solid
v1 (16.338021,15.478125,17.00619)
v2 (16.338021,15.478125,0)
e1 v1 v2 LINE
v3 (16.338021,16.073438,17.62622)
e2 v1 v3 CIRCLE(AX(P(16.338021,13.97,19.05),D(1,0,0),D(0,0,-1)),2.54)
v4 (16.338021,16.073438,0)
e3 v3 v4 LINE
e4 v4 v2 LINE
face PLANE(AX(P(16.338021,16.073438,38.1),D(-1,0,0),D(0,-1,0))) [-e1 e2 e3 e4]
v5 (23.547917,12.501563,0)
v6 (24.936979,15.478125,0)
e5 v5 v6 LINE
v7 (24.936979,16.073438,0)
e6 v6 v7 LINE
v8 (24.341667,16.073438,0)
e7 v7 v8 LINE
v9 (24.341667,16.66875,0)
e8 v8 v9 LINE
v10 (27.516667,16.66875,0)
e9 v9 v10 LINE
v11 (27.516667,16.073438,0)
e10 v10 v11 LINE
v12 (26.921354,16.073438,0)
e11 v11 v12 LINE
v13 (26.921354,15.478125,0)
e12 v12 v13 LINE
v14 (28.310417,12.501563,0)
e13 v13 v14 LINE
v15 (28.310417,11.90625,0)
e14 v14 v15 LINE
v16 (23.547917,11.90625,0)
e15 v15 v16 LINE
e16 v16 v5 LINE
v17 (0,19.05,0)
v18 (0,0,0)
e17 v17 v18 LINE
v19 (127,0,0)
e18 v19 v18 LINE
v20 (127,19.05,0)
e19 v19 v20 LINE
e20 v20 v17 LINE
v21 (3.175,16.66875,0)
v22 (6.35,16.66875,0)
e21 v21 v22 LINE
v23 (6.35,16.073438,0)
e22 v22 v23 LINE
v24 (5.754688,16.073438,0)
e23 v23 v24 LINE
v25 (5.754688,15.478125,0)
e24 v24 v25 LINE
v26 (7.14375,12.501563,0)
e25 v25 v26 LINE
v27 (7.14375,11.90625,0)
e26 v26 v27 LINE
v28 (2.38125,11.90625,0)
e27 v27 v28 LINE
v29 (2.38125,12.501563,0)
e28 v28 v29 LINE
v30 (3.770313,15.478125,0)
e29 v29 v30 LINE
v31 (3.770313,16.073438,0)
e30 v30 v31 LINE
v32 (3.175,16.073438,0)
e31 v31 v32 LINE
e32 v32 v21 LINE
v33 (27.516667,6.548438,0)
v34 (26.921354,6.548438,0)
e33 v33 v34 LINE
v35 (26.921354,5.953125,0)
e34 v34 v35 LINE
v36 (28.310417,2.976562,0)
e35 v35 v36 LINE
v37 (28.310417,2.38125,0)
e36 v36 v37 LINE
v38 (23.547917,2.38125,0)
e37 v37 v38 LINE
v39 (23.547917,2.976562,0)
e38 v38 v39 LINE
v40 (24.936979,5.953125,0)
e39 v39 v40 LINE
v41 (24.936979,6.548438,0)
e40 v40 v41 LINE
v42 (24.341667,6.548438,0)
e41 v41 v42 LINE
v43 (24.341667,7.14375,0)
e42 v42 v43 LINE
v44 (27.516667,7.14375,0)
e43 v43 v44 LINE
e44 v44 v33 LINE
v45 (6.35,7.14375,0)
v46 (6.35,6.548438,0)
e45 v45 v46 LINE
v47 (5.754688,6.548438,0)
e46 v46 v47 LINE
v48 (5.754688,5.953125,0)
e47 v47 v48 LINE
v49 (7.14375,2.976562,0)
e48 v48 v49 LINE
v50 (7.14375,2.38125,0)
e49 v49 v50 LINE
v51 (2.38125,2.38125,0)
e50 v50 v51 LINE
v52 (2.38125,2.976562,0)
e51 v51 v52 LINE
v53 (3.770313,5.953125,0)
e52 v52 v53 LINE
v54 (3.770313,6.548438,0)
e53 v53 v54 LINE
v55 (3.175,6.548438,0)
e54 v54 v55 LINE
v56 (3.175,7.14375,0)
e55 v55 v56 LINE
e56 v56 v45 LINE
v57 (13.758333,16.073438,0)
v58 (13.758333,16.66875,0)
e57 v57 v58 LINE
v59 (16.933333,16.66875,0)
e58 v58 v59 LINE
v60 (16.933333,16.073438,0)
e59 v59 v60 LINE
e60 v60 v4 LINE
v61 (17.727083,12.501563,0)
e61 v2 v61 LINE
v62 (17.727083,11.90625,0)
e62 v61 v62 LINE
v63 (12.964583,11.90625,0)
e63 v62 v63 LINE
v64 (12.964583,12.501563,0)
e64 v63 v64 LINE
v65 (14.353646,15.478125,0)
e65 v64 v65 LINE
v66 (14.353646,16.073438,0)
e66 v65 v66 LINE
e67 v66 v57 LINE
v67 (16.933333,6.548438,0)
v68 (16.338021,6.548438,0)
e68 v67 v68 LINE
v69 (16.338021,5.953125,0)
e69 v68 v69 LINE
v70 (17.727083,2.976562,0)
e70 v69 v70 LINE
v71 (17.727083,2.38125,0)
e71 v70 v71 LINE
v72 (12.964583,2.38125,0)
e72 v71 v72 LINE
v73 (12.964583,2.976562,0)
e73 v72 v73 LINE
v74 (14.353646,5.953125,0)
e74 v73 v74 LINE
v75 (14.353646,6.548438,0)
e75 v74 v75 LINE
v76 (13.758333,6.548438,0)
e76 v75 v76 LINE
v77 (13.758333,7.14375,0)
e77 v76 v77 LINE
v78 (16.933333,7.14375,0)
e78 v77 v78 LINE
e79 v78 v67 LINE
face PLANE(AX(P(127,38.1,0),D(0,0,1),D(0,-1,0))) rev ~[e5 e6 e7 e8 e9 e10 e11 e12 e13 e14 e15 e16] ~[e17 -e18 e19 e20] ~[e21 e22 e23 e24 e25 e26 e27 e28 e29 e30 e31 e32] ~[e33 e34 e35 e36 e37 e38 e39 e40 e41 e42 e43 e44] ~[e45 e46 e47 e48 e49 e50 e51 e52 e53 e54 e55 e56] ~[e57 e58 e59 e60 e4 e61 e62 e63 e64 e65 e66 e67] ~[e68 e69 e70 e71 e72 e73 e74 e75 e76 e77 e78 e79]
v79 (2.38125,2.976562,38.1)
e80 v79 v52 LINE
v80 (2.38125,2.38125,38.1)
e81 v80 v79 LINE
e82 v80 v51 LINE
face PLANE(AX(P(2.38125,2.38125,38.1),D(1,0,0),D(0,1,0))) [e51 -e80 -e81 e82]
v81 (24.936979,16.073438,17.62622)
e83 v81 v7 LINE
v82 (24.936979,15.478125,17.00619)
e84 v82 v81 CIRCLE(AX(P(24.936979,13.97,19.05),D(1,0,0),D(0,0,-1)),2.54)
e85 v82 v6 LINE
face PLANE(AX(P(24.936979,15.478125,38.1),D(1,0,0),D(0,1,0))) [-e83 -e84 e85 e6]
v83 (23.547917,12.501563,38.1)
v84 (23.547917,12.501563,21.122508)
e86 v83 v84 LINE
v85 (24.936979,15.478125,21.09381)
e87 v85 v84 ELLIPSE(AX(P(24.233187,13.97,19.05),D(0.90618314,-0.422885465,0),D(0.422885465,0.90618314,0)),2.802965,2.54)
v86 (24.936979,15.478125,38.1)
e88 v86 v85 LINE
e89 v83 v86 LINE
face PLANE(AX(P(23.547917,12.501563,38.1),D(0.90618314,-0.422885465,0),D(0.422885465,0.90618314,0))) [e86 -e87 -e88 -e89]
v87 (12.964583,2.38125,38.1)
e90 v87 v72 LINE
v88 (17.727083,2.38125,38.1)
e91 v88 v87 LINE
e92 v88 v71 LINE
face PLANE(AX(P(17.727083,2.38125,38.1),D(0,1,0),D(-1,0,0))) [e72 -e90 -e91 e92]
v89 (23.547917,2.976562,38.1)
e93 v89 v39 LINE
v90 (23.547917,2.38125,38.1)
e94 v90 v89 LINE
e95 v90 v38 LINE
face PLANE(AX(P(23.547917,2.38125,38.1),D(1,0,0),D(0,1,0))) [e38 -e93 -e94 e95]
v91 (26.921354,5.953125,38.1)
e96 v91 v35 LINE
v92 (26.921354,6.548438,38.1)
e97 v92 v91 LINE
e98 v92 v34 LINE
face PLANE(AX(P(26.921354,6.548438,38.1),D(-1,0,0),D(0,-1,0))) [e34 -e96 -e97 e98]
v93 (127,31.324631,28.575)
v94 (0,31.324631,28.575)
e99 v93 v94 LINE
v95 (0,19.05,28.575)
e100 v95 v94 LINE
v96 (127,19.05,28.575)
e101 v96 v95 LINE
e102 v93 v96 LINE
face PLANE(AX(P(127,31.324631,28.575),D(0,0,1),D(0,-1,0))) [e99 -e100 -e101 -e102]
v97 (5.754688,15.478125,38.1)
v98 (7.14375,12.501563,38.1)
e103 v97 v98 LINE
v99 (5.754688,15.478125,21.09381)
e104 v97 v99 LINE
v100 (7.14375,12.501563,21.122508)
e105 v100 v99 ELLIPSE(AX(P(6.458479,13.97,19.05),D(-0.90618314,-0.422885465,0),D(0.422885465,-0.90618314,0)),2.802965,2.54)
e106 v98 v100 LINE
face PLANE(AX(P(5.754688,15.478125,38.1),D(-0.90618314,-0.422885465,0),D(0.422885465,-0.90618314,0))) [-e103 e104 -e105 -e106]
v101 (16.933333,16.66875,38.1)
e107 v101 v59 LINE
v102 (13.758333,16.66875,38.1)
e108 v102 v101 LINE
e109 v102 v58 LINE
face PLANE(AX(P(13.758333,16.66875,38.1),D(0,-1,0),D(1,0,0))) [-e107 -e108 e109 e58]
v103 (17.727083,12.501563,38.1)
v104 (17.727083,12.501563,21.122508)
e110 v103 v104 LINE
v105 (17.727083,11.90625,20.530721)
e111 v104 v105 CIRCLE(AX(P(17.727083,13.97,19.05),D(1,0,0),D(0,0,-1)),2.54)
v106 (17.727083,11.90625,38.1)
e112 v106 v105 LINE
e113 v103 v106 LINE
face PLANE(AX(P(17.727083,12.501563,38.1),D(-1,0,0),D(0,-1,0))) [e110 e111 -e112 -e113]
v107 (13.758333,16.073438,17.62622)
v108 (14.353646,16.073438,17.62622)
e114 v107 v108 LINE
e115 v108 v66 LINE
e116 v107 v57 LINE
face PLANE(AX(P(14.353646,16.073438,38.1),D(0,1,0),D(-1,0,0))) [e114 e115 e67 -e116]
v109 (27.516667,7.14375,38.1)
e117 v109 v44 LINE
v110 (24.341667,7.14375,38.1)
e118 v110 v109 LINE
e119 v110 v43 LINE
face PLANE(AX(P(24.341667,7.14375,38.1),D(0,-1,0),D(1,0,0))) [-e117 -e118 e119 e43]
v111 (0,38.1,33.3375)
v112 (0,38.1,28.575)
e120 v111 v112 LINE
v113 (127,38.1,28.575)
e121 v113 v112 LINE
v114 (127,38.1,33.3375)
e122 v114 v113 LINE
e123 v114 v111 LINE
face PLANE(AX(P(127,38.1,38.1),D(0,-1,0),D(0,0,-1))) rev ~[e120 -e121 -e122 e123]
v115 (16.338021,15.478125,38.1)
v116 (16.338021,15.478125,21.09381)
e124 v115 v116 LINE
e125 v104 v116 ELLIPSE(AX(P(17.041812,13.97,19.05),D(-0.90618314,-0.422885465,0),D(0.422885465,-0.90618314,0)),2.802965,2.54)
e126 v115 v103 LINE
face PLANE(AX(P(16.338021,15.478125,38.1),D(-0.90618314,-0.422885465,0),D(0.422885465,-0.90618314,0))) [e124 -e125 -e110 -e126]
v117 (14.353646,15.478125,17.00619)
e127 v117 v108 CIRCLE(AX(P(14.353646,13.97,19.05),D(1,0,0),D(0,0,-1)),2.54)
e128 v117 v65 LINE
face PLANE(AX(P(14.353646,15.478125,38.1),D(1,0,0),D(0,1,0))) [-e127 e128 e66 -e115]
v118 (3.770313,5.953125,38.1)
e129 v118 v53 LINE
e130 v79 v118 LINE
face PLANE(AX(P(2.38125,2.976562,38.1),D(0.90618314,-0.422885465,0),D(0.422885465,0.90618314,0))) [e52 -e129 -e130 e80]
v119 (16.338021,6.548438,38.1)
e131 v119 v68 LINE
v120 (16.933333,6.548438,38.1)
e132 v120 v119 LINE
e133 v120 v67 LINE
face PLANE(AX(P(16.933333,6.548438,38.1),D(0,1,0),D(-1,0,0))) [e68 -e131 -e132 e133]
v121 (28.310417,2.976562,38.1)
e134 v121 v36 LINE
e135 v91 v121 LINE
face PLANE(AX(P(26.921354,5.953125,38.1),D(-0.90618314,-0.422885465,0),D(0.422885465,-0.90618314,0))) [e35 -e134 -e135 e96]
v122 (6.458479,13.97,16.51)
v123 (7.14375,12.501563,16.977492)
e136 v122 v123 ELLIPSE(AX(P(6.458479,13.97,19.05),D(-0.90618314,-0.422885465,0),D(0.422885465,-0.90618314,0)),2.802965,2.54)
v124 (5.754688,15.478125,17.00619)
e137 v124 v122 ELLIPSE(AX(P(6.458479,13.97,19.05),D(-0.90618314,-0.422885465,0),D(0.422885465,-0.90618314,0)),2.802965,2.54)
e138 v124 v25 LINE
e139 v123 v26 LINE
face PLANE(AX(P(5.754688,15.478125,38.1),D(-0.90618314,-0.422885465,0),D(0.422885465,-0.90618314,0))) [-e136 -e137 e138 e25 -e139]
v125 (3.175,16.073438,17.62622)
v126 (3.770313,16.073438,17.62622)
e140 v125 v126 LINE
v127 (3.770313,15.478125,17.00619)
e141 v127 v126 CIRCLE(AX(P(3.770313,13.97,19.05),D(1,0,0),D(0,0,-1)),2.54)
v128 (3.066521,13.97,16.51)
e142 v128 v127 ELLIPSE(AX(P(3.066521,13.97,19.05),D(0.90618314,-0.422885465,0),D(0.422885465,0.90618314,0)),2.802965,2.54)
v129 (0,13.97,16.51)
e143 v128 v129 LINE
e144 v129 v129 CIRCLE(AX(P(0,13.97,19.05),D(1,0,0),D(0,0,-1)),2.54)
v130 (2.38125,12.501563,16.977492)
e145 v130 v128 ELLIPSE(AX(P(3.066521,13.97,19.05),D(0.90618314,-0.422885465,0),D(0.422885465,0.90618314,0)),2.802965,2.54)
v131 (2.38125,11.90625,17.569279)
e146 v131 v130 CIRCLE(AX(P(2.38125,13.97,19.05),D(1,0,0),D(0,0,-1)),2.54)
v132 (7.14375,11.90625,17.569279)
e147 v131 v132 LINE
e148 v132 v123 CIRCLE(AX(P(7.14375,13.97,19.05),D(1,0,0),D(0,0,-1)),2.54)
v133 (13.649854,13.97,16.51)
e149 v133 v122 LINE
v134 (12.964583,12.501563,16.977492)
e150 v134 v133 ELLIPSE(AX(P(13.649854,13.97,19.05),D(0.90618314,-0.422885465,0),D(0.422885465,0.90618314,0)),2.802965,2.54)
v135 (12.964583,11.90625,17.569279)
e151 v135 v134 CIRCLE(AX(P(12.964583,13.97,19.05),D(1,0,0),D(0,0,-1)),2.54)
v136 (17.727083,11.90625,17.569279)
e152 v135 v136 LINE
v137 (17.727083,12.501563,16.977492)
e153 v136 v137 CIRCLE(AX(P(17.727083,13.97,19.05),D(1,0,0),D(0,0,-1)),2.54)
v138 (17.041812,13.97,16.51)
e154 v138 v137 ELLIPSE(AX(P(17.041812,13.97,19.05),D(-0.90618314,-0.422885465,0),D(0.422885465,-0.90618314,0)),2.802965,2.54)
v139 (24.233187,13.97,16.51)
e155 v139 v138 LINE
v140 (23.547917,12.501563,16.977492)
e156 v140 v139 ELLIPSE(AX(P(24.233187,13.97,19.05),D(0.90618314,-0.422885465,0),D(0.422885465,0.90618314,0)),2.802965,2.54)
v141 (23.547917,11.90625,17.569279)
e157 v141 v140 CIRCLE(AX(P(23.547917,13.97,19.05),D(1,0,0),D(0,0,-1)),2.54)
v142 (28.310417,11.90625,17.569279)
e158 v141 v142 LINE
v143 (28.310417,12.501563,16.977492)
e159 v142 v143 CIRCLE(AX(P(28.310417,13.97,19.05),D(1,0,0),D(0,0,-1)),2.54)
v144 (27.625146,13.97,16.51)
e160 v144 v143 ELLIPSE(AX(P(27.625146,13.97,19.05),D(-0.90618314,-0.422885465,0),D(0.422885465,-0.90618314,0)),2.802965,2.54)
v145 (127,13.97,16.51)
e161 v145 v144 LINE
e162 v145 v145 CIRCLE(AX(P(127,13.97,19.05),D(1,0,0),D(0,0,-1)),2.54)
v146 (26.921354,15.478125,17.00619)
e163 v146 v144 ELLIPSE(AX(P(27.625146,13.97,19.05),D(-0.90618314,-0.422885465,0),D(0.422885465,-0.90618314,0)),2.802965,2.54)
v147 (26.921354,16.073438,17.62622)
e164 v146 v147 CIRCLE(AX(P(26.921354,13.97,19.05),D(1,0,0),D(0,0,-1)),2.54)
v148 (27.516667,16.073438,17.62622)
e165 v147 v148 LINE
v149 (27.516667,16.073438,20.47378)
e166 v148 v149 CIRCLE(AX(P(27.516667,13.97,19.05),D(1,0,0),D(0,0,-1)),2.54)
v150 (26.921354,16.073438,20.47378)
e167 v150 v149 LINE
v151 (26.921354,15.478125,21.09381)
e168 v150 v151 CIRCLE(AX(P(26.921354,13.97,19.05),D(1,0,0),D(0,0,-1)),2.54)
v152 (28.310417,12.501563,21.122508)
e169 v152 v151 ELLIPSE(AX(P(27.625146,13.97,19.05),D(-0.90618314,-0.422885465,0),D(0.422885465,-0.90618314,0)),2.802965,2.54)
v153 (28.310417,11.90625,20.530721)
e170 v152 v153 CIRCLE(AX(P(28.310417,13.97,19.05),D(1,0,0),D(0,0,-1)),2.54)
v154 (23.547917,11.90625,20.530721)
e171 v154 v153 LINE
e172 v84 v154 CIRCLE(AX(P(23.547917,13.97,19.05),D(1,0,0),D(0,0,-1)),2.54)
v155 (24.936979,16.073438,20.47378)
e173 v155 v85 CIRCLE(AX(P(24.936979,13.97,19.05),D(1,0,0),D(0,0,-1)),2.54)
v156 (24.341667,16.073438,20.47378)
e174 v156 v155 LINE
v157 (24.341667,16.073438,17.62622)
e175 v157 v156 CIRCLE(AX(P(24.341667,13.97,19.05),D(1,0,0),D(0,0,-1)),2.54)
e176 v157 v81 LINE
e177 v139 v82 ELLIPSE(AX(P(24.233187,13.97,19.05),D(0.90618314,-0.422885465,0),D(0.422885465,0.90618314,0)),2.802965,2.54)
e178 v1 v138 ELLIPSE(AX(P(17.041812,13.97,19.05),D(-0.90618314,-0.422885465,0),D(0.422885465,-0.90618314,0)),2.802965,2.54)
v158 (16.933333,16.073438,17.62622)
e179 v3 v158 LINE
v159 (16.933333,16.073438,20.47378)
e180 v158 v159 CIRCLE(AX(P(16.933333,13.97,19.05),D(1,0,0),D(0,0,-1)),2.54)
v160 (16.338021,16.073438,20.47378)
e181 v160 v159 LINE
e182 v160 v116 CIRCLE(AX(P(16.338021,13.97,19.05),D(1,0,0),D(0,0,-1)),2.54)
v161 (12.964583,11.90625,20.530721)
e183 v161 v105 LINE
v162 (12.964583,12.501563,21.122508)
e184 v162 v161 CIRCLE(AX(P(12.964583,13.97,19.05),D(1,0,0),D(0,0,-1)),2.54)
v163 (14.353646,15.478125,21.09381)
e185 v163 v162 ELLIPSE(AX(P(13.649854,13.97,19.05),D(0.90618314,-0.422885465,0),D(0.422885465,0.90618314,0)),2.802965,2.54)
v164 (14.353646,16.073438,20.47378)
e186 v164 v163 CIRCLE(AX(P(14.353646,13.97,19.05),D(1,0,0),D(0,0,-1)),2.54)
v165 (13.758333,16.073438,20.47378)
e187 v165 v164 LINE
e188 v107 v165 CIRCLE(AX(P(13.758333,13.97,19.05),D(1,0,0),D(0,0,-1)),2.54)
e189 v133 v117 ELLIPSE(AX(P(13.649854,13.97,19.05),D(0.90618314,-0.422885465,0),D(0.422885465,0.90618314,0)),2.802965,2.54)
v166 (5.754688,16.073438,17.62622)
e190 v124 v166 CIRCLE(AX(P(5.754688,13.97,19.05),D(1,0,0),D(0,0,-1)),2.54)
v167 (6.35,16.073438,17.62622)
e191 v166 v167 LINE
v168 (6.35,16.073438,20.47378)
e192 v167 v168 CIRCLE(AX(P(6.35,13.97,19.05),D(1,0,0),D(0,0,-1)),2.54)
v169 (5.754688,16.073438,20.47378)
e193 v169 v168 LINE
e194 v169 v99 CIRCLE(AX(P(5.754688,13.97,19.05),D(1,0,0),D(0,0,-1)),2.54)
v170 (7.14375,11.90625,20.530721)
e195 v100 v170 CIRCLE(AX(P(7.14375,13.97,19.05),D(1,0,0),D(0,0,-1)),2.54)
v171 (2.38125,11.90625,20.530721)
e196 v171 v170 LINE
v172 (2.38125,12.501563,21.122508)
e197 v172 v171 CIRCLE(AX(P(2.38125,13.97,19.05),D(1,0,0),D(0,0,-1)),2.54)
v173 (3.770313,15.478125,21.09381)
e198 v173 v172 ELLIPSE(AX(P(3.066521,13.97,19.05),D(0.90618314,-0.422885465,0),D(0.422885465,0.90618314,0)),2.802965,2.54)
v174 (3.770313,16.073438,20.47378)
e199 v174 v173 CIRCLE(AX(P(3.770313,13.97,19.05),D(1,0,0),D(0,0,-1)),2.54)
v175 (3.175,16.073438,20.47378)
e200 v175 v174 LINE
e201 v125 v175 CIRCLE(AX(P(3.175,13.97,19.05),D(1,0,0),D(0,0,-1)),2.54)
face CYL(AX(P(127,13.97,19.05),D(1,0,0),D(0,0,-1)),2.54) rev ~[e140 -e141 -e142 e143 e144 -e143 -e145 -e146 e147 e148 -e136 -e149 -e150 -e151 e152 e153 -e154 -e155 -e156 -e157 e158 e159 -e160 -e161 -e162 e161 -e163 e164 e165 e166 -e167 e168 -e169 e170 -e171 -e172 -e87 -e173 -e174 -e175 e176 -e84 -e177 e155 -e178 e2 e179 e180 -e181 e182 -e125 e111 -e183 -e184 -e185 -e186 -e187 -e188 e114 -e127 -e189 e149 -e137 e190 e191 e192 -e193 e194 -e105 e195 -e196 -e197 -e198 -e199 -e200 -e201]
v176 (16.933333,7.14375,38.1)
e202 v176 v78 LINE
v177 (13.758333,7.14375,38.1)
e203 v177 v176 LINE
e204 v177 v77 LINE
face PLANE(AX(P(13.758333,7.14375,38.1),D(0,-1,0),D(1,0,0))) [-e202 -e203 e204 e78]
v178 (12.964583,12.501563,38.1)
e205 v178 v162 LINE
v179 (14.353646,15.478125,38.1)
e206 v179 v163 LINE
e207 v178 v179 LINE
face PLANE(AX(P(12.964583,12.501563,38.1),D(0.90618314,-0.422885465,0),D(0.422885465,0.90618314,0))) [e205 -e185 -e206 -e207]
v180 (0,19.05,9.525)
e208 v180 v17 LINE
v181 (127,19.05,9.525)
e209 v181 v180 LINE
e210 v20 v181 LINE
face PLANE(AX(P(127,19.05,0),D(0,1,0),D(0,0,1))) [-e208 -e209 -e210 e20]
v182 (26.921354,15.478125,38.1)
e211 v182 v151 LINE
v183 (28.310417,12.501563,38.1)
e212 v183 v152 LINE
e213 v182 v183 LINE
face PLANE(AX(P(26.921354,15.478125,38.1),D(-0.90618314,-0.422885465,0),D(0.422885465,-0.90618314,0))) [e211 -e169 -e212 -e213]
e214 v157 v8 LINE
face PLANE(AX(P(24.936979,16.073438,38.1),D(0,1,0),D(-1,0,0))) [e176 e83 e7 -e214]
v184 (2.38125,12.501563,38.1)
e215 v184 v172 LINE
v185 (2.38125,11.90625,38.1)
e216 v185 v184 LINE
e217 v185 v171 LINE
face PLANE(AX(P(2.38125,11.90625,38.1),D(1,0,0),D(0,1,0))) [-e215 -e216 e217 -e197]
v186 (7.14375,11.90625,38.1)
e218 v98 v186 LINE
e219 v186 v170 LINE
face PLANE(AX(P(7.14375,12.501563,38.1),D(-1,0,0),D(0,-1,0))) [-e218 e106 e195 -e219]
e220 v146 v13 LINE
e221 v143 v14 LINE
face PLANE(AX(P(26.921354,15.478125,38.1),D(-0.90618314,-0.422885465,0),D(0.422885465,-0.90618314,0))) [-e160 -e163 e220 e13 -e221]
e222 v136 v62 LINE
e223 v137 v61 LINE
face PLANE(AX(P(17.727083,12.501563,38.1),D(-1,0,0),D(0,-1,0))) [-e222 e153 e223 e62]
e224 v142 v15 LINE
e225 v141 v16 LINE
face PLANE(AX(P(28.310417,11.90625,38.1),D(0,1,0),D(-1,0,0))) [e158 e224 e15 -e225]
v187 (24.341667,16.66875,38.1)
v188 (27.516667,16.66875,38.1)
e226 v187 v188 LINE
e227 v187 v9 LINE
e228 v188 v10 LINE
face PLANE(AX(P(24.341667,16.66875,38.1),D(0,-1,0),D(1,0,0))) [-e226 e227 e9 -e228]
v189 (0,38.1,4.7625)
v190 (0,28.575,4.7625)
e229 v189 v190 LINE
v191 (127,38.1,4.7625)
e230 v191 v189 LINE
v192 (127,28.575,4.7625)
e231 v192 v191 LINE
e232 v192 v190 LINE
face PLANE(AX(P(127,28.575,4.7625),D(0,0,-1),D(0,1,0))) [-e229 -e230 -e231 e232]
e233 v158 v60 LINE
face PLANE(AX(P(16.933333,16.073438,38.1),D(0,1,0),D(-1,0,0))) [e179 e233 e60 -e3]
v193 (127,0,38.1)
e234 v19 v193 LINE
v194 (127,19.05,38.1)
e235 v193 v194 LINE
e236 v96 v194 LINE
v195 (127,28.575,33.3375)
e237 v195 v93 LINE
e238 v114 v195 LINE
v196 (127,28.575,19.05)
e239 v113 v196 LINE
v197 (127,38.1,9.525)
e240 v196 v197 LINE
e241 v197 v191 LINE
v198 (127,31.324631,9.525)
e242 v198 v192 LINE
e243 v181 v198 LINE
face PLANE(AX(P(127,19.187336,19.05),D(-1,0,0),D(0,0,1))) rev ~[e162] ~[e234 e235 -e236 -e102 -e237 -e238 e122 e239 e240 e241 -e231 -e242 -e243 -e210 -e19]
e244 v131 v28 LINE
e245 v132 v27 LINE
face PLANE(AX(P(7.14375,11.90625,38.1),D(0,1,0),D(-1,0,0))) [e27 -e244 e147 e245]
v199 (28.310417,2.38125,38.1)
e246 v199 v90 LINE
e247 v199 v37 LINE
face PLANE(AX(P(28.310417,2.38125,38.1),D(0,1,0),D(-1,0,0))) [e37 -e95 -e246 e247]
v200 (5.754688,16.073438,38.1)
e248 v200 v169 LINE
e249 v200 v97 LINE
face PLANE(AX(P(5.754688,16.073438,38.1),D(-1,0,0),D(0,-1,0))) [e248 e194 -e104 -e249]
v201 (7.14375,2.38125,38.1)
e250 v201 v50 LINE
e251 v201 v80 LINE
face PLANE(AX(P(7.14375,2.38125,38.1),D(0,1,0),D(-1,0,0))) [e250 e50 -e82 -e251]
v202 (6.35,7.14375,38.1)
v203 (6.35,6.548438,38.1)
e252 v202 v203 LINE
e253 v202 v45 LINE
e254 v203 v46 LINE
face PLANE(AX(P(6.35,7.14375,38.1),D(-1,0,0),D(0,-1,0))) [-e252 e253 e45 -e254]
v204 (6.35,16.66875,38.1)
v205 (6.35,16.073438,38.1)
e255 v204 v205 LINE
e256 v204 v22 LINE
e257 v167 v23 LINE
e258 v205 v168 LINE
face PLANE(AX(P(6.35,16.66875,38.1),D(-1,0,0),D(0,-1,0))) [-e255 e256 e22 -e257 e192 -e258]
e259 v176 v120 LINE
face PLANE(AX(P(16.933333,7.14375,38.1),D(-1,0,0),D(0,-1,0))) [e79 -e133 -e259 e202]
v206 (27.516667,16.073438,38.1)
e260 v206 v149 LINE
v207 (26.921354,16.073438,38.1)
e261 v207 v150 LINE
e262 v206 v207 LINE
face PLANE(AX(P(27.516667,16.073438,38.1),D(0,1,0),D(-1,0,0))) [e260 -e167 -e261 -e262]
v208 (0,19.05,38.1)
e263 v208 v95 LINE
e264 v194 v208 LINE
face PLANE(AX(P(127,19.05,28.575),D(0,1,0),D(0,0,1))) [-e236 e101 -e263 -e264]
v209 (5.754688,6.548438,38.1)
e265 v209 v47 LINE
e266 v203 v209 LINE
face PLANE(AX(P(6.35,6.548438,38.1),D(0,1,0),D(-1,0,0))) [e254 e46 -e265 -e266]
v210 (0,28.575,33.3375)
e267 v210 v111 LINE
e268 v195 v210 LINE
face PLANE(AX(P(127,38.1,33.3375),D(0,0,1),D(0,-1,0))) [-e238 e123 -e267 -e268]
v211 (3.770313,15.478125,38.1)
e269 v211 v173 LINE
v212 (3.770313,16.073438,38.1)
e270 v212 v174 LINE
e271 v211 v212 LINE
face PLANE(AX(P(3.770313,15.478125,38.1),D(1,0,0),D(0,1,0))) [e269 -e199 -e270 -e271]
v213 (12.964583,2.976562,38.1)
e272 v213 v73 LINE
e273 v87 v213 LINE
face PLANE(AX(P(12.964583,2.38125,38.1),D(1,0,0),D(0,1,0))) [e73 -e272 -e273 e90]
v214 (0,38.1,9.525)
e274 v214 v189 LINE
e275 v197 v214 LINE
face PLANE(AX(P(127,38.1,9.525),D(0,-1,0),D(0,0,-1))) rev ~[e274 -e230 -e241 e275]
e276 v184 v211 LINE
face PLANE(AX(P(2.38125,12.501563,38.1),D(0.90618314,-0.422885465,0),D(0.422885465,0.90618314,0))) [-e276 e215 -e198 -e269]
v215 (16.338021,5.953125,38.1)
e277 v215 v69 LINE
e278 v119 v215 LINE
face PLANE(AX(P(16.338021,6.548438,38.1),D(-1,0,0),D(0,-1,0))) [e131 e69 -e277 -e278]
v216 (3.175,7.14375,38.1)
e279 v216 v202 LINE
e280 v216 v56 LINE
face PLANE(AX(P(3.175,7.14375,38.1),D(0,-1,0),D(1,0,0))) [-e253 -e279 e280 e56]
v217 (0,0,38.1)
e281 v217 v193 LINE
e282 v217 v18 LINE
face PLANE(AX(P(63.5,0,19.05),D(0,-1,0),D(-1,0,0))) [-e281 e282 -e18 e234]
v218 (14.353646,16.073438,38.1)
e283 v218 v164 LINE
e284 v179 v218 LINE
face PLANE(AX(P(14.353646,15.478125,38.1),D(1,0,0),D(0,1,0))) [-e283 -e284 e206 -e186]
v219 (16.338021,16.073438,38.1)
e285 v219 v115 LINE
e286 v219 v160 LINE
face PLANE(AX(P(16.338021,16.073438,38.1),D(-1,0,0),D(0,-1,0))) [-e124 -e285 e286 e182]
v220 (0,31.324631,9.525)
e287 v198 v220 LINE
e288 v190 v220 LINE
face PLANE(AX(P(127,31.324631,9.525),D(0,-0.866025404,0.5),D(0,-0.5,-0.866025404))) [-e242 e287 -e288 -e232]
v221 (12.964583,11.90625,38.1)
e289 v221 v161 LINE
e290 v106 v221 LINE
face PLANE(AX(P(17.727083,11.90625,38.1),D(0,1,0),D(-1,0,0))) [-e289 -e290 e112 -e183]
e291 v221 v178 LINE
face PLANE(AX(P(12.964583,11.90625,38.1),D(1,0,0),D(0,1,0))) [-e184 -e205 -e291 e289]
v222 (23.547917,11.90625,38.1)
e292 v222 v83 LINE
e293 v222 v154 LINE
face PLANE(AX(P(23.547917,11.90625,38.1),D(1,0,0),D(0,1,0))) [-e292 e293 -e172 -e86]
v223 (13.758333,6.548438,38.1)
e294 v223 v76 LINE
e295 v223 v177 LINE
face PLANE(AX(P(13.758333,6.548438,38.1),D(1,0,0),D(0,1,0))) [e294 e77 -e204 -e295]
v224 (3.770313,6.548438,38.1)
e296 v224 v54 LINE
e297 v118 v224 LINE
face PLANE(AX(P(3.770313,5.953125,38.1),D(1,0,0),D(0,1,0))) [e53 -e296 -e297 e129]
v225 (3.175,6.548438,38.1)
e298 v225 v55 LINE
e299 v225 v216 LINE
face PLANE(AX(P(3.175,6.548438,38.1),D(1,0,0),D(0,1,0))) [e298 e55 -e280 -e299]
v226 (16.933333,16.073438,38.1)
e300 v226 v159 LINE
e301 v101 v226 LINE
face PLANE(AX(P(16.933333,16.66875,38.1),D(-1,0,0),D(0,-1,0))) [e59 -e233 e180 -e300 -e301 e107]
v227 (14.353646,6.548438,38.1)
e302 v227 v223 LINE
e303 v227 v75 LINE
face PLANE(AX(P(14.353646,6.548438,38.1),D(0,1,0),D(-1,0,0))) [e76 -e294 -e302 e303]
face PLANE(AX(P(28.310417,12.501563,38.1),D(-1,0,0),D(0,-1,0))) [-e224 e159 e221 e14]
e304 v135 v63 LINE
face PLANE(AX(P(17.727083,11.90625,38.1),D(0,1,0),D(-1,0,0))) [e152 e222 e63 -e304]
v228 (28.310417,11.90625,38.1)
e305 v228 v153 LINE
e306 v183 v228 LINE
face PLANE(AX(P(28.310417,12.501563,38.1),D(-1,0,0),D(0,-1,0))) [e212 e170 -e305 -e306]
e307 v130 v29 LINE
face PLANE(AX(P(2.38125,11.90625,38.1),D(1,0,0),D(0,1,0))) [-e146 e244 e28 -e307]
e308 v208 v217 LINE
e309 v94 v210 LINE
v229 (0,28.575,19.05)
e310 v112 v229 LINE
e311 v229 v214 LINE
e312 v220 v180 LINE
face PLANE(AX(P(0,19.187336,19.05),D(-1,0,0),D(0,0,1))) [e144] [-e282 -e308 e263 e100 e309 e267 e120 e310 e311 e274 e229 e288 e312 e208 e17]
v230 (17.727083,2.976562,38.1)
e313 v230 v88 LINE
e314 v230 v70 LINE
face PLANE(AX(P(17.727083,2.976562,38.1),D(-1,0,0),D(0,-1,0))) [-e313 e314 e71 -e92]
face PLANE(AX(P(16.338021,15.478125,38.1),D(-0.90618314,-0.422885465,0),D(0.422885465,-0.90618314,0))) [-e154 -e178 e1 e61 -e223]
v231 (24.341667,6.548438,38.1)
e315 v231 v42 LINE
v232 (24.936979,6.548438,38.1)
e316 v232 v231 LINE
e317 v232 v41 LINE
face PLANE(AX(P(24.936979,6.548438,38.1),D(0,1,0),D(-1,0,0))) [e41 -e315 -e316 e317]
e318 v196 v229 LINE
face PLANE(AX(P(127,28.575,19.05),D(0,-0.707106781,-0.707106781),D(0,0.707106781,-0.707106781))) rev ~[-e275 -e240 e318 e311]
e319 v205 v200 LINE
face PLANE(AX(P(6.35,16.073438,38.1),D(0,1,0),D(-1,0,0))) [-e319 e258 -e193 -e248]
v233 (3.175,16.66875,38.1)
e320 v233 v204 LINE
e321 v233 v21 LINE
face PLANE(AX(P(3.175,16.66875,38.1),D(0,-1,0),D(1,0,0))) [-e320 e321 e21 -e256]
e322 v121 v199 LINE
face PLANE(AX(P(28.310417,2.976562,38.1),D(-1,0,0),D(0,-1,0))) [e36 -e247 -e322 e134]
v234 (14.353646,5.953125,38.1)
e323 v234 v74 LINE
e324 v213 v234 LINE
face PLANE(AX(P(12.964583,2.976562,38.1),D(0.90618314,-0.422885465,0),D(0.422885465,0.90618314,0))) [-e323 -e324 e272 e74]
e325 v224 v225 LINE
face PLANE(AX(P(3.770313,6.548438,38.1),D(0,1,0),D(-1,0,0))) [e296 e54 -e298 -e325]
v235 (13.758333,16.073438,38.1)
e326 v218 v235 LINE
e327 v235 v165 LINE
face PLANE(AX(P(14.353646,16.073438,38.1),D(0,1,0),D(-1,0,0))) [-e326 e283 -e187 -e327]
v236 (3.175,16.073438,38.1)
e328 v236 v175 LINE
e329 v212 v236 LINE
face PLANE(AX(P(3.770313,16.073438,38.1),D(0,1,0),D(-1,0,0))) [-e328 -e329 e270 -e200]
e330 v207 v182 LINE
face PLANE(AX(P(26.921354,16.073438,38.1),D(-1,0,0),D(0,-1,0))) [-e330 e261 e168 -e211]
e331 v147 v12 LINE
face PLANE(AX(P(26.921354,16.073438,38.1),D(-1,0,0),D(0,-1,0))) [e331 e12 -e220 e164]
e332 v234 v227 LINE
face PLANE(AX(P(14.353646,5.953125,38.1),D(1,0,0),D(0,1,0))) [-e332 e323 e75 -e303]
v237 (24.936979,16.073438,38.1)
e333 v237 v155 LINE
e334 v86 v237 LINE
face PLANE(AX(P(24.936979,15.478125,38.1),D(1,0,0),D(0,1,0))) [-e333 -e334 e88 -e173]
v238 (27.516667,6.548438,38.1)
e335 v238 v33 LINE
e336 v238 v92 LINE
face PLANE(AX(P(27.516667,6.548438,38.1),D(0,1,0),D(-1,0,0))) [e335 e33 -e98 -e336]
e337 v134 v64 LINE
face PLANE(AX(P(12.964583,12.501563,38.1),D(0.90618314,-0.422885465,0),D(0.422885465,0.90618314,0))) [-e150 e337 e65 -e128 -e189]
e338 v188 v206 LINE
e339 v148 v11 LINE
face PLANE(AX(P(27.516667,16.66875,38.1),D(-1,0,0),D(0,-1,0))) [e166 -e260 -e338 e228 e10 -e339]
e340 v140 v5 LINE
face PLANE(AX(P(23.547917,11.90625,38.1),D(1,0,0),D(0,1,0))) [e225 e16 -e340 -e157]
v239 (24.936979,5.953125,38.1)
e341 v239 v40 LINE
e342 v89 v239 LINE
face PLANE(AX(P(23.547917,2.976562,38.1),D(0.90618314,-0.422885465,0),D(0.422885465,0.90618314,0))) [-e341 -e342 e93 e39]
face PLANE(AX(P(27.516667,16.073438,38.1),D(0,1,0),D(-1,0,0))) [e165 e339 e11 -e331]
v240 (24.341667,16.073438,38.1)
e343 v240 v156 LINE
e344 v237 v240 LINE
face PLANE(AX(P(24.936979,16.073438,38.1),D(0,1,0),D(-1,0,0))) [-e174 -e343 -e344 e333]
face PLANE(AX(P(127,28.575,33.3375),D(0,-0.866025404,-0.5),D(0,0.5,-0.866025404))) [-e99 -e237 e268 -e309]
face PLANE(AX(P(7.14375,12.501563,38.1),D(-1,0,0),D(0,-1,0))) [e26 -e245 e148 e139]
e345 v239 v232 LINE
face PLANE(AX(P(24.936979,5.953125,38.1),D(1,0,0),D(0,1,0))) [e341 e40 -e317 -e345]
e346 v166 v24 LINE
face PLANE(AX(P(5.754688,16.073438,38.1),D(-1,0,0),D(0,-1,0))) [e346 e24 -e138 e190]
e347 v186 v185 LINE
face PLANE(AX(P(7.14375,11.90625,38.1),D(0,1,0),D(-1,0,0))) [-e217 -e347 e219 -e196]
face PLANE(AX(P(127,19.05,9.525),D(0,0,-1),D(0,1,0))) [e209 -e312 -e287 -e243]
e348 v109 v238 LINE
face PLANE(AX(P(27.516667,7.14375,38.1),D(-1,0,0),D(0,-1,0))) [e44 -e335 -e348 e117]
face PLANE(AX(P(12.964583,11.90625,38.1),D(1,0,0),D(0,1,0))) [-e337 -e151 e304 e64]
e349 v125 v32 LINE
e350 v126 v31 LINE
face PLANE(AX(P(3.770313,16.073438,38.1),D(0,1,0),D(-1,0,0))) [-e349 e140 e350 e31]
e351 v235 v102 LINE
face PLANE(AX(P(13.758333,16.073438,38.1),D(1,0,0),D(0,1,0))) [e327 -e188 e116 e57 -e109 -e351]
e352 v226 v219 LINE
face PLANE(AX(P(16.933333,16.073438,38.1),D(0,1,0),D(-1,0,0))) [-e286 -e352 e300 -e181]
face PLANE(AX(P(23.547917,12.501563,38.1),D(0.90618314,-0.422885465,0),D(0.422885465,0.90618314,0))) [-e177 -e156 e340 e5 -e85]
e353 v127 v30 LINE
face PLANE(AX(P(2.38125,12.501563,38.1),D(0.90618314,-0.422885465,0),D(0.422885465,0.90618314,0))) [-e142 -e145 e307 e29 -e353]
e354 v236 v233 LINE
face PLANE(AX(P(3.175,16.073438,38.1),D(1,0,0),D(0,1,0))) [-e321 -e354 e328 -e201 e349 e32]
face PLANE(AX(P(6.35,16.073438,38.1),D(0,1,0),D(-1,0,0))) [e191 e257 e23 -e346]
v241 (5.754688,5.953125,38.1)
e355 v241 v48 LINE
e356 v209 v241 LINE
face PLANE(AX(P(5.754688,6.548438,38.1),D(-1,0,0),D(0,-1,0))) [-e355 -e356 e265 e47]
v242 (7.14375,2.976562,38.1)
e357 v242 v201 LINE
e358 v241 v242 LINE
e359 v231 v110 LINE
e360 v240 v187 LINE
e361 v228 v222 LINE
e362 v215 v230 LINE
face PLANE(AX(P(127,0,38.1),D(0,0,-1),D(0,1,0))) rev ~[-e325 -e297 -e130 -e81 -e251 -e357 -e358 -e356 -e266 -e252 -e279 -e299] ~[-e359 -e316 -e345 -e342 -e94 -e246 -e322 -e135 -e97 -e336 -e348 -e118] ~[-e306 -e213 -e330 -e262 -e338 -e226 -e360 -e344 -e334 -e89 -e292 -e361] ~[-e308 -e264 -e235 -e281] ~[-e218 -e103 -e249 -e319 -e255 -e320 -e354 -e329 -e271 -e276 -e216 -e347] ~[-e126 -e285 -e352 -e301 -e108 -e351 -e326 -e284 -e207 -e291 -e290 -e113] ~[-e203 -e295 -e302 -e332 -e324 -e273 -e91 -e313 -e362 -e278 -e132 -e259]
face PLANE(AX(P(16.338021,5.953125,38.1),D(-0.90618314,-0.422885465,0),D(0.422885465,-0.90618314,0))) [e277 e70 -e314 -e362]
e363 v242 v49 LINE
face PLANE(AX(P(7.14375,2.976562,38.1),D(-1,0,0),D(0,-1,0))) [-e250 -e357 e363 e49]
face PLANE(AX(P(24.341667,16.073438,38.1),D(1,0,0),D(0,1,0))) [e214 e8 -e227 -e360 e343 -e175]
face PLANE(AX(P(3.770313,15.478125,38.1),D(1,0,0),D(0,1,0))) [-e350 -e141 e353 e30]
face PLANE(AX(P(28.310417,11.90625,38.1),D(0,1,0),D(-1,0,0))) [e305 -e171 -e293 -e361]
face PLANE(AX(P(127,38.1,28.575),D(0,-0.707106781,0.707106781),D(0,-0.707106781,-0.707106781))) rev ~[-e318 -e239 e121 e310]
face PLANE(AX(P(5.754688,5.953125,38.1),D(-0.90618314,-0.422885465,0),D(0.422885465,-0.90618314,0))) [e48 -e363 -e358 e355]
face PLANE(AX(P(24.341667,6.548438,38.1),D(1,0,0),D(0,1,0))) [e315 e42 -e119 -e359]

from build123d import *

# Parameters (mm, degrees)
BOSS_EXTRUDE2_DEPTH  = 19.05
BOSS_EXTRUDE1_DEPTH  = 127
SKETCH6_R            = 2.54
CUT_EXTRUDE2_DEPTH   = 128
CUT_EXTRUDE3_DEPTH   = 128
CUT_EXTRUDE4_DEPTH   = 39.1
LPATTERN1_COUNT      = 3
LPATTERN1_PITCH      = 10.583333333
LPATTERN1_COUNT_DIR2 = 2
LPATTERN1_PITCH_DIR2 = 9.525


with BuildPart() as part:
    # Base → Boss-Extrude2 (new body)
    with BuildSketch(Plane(origin=(0, 0, 0), x_dir=(1, 0, 0), z_dir=(0, 1, 0))):
        Polygon((0, 0), (63.5, 0), (122.112570575, 0), (127, 0), (127, -38.1), (31.75, -38.1), (0, -38.1), align=None)
    extrude(amount=BOSS_EXTRUDE2_DEPTH)

    # Sketch3 → Boss-Extrude1 (add)
    with BuildSketch(Plane(origin=(127, 0, 0), x_dir=(0, 0, -1), z_dir=(1, 0, 0))):
        Polygon((-38.1, 38.1), (-28.575, 38.1), (-19.05, 28.575), (-9.525, 38.1), (0, 38.1), (0, 0), (-38.1, 0), align=None)
    extrude(amount=-BOSS_EXTRUDE1_DEPTH)

    # Sketch6 → Cut-Extrude2 (cut, through all)
    with BuildSketch(Plane(origin=(127, 0, 0), x_dir=(0, 0, -1), z_dir=(1, 0, 0))):
        with Locations((-19.05, 13.97)):
            Circle(SKETCH6_R)
    extrude(amount=-CUT_EXTRUDE2_DEPTH, mode=Mode.SUBTRACT)

    # Sketch8 → Cut-Extrude3 (cut, through all)
    with BuildSketch(Plane(origin=(127, 0, 0), x_dir=(0, 0, -1), z_dir=(1, 0, 0))):
        Polygon((-4.7625, 28.575), (-4.7625, 38.1), (0, 38.1), (0, 19.05), (-9.525, 19.05), (-9.525, 31.324630657), align=None)
        Polygon((-28.575, 19.05), (-38.1, 19.05), (-38.1, 38.1), (-33.3375, 38.1), (-33.3375, 28.575), (-28.575, 31.324630657), align=None)
    extrude(amount=-CUT_EXTRUDE3_DEPTH, mode=Mode.SUBTRACT)

    # Sketch9 → Cut-Extrude4 (cut, through all)
    with BuildSketch(Plane.XY.offset(38.1)):
        Polygon((3.175, 16.66875), (6.35, 16.66875), (6.35, 16.0734375), (5.7546875, 16.0734375), (5.7546875, 15.478125), (7.14375, 12.5015625), (7.14375, 11.90625), (2.38125, 11.90625), (2.38125, 12.5015625), (3.7703125, 15.478125), (3.7703125, 16.0734375), (3.175, 16.0734375), align=None)
    cut_extrude4 = extrude(amount=-CUT_EXTRUDE4_DEPTH, mode=Mode.SUBTRACT)

    # LPattern1: Cut-Extrude4 3 × 2
    with Locations(*[(i * LPATTERN1_PITCH, -j * LPATTERN1_PITCH_DIR2, 0) for i in range(LPATTERN1_COUNT) for j in range(LPATTERN1_COUNT_DIR2) if (i, j) != (0, 0)]):
        add(cut_extrude4, mode=Mode.SUBTRACT)


solid = part.part
